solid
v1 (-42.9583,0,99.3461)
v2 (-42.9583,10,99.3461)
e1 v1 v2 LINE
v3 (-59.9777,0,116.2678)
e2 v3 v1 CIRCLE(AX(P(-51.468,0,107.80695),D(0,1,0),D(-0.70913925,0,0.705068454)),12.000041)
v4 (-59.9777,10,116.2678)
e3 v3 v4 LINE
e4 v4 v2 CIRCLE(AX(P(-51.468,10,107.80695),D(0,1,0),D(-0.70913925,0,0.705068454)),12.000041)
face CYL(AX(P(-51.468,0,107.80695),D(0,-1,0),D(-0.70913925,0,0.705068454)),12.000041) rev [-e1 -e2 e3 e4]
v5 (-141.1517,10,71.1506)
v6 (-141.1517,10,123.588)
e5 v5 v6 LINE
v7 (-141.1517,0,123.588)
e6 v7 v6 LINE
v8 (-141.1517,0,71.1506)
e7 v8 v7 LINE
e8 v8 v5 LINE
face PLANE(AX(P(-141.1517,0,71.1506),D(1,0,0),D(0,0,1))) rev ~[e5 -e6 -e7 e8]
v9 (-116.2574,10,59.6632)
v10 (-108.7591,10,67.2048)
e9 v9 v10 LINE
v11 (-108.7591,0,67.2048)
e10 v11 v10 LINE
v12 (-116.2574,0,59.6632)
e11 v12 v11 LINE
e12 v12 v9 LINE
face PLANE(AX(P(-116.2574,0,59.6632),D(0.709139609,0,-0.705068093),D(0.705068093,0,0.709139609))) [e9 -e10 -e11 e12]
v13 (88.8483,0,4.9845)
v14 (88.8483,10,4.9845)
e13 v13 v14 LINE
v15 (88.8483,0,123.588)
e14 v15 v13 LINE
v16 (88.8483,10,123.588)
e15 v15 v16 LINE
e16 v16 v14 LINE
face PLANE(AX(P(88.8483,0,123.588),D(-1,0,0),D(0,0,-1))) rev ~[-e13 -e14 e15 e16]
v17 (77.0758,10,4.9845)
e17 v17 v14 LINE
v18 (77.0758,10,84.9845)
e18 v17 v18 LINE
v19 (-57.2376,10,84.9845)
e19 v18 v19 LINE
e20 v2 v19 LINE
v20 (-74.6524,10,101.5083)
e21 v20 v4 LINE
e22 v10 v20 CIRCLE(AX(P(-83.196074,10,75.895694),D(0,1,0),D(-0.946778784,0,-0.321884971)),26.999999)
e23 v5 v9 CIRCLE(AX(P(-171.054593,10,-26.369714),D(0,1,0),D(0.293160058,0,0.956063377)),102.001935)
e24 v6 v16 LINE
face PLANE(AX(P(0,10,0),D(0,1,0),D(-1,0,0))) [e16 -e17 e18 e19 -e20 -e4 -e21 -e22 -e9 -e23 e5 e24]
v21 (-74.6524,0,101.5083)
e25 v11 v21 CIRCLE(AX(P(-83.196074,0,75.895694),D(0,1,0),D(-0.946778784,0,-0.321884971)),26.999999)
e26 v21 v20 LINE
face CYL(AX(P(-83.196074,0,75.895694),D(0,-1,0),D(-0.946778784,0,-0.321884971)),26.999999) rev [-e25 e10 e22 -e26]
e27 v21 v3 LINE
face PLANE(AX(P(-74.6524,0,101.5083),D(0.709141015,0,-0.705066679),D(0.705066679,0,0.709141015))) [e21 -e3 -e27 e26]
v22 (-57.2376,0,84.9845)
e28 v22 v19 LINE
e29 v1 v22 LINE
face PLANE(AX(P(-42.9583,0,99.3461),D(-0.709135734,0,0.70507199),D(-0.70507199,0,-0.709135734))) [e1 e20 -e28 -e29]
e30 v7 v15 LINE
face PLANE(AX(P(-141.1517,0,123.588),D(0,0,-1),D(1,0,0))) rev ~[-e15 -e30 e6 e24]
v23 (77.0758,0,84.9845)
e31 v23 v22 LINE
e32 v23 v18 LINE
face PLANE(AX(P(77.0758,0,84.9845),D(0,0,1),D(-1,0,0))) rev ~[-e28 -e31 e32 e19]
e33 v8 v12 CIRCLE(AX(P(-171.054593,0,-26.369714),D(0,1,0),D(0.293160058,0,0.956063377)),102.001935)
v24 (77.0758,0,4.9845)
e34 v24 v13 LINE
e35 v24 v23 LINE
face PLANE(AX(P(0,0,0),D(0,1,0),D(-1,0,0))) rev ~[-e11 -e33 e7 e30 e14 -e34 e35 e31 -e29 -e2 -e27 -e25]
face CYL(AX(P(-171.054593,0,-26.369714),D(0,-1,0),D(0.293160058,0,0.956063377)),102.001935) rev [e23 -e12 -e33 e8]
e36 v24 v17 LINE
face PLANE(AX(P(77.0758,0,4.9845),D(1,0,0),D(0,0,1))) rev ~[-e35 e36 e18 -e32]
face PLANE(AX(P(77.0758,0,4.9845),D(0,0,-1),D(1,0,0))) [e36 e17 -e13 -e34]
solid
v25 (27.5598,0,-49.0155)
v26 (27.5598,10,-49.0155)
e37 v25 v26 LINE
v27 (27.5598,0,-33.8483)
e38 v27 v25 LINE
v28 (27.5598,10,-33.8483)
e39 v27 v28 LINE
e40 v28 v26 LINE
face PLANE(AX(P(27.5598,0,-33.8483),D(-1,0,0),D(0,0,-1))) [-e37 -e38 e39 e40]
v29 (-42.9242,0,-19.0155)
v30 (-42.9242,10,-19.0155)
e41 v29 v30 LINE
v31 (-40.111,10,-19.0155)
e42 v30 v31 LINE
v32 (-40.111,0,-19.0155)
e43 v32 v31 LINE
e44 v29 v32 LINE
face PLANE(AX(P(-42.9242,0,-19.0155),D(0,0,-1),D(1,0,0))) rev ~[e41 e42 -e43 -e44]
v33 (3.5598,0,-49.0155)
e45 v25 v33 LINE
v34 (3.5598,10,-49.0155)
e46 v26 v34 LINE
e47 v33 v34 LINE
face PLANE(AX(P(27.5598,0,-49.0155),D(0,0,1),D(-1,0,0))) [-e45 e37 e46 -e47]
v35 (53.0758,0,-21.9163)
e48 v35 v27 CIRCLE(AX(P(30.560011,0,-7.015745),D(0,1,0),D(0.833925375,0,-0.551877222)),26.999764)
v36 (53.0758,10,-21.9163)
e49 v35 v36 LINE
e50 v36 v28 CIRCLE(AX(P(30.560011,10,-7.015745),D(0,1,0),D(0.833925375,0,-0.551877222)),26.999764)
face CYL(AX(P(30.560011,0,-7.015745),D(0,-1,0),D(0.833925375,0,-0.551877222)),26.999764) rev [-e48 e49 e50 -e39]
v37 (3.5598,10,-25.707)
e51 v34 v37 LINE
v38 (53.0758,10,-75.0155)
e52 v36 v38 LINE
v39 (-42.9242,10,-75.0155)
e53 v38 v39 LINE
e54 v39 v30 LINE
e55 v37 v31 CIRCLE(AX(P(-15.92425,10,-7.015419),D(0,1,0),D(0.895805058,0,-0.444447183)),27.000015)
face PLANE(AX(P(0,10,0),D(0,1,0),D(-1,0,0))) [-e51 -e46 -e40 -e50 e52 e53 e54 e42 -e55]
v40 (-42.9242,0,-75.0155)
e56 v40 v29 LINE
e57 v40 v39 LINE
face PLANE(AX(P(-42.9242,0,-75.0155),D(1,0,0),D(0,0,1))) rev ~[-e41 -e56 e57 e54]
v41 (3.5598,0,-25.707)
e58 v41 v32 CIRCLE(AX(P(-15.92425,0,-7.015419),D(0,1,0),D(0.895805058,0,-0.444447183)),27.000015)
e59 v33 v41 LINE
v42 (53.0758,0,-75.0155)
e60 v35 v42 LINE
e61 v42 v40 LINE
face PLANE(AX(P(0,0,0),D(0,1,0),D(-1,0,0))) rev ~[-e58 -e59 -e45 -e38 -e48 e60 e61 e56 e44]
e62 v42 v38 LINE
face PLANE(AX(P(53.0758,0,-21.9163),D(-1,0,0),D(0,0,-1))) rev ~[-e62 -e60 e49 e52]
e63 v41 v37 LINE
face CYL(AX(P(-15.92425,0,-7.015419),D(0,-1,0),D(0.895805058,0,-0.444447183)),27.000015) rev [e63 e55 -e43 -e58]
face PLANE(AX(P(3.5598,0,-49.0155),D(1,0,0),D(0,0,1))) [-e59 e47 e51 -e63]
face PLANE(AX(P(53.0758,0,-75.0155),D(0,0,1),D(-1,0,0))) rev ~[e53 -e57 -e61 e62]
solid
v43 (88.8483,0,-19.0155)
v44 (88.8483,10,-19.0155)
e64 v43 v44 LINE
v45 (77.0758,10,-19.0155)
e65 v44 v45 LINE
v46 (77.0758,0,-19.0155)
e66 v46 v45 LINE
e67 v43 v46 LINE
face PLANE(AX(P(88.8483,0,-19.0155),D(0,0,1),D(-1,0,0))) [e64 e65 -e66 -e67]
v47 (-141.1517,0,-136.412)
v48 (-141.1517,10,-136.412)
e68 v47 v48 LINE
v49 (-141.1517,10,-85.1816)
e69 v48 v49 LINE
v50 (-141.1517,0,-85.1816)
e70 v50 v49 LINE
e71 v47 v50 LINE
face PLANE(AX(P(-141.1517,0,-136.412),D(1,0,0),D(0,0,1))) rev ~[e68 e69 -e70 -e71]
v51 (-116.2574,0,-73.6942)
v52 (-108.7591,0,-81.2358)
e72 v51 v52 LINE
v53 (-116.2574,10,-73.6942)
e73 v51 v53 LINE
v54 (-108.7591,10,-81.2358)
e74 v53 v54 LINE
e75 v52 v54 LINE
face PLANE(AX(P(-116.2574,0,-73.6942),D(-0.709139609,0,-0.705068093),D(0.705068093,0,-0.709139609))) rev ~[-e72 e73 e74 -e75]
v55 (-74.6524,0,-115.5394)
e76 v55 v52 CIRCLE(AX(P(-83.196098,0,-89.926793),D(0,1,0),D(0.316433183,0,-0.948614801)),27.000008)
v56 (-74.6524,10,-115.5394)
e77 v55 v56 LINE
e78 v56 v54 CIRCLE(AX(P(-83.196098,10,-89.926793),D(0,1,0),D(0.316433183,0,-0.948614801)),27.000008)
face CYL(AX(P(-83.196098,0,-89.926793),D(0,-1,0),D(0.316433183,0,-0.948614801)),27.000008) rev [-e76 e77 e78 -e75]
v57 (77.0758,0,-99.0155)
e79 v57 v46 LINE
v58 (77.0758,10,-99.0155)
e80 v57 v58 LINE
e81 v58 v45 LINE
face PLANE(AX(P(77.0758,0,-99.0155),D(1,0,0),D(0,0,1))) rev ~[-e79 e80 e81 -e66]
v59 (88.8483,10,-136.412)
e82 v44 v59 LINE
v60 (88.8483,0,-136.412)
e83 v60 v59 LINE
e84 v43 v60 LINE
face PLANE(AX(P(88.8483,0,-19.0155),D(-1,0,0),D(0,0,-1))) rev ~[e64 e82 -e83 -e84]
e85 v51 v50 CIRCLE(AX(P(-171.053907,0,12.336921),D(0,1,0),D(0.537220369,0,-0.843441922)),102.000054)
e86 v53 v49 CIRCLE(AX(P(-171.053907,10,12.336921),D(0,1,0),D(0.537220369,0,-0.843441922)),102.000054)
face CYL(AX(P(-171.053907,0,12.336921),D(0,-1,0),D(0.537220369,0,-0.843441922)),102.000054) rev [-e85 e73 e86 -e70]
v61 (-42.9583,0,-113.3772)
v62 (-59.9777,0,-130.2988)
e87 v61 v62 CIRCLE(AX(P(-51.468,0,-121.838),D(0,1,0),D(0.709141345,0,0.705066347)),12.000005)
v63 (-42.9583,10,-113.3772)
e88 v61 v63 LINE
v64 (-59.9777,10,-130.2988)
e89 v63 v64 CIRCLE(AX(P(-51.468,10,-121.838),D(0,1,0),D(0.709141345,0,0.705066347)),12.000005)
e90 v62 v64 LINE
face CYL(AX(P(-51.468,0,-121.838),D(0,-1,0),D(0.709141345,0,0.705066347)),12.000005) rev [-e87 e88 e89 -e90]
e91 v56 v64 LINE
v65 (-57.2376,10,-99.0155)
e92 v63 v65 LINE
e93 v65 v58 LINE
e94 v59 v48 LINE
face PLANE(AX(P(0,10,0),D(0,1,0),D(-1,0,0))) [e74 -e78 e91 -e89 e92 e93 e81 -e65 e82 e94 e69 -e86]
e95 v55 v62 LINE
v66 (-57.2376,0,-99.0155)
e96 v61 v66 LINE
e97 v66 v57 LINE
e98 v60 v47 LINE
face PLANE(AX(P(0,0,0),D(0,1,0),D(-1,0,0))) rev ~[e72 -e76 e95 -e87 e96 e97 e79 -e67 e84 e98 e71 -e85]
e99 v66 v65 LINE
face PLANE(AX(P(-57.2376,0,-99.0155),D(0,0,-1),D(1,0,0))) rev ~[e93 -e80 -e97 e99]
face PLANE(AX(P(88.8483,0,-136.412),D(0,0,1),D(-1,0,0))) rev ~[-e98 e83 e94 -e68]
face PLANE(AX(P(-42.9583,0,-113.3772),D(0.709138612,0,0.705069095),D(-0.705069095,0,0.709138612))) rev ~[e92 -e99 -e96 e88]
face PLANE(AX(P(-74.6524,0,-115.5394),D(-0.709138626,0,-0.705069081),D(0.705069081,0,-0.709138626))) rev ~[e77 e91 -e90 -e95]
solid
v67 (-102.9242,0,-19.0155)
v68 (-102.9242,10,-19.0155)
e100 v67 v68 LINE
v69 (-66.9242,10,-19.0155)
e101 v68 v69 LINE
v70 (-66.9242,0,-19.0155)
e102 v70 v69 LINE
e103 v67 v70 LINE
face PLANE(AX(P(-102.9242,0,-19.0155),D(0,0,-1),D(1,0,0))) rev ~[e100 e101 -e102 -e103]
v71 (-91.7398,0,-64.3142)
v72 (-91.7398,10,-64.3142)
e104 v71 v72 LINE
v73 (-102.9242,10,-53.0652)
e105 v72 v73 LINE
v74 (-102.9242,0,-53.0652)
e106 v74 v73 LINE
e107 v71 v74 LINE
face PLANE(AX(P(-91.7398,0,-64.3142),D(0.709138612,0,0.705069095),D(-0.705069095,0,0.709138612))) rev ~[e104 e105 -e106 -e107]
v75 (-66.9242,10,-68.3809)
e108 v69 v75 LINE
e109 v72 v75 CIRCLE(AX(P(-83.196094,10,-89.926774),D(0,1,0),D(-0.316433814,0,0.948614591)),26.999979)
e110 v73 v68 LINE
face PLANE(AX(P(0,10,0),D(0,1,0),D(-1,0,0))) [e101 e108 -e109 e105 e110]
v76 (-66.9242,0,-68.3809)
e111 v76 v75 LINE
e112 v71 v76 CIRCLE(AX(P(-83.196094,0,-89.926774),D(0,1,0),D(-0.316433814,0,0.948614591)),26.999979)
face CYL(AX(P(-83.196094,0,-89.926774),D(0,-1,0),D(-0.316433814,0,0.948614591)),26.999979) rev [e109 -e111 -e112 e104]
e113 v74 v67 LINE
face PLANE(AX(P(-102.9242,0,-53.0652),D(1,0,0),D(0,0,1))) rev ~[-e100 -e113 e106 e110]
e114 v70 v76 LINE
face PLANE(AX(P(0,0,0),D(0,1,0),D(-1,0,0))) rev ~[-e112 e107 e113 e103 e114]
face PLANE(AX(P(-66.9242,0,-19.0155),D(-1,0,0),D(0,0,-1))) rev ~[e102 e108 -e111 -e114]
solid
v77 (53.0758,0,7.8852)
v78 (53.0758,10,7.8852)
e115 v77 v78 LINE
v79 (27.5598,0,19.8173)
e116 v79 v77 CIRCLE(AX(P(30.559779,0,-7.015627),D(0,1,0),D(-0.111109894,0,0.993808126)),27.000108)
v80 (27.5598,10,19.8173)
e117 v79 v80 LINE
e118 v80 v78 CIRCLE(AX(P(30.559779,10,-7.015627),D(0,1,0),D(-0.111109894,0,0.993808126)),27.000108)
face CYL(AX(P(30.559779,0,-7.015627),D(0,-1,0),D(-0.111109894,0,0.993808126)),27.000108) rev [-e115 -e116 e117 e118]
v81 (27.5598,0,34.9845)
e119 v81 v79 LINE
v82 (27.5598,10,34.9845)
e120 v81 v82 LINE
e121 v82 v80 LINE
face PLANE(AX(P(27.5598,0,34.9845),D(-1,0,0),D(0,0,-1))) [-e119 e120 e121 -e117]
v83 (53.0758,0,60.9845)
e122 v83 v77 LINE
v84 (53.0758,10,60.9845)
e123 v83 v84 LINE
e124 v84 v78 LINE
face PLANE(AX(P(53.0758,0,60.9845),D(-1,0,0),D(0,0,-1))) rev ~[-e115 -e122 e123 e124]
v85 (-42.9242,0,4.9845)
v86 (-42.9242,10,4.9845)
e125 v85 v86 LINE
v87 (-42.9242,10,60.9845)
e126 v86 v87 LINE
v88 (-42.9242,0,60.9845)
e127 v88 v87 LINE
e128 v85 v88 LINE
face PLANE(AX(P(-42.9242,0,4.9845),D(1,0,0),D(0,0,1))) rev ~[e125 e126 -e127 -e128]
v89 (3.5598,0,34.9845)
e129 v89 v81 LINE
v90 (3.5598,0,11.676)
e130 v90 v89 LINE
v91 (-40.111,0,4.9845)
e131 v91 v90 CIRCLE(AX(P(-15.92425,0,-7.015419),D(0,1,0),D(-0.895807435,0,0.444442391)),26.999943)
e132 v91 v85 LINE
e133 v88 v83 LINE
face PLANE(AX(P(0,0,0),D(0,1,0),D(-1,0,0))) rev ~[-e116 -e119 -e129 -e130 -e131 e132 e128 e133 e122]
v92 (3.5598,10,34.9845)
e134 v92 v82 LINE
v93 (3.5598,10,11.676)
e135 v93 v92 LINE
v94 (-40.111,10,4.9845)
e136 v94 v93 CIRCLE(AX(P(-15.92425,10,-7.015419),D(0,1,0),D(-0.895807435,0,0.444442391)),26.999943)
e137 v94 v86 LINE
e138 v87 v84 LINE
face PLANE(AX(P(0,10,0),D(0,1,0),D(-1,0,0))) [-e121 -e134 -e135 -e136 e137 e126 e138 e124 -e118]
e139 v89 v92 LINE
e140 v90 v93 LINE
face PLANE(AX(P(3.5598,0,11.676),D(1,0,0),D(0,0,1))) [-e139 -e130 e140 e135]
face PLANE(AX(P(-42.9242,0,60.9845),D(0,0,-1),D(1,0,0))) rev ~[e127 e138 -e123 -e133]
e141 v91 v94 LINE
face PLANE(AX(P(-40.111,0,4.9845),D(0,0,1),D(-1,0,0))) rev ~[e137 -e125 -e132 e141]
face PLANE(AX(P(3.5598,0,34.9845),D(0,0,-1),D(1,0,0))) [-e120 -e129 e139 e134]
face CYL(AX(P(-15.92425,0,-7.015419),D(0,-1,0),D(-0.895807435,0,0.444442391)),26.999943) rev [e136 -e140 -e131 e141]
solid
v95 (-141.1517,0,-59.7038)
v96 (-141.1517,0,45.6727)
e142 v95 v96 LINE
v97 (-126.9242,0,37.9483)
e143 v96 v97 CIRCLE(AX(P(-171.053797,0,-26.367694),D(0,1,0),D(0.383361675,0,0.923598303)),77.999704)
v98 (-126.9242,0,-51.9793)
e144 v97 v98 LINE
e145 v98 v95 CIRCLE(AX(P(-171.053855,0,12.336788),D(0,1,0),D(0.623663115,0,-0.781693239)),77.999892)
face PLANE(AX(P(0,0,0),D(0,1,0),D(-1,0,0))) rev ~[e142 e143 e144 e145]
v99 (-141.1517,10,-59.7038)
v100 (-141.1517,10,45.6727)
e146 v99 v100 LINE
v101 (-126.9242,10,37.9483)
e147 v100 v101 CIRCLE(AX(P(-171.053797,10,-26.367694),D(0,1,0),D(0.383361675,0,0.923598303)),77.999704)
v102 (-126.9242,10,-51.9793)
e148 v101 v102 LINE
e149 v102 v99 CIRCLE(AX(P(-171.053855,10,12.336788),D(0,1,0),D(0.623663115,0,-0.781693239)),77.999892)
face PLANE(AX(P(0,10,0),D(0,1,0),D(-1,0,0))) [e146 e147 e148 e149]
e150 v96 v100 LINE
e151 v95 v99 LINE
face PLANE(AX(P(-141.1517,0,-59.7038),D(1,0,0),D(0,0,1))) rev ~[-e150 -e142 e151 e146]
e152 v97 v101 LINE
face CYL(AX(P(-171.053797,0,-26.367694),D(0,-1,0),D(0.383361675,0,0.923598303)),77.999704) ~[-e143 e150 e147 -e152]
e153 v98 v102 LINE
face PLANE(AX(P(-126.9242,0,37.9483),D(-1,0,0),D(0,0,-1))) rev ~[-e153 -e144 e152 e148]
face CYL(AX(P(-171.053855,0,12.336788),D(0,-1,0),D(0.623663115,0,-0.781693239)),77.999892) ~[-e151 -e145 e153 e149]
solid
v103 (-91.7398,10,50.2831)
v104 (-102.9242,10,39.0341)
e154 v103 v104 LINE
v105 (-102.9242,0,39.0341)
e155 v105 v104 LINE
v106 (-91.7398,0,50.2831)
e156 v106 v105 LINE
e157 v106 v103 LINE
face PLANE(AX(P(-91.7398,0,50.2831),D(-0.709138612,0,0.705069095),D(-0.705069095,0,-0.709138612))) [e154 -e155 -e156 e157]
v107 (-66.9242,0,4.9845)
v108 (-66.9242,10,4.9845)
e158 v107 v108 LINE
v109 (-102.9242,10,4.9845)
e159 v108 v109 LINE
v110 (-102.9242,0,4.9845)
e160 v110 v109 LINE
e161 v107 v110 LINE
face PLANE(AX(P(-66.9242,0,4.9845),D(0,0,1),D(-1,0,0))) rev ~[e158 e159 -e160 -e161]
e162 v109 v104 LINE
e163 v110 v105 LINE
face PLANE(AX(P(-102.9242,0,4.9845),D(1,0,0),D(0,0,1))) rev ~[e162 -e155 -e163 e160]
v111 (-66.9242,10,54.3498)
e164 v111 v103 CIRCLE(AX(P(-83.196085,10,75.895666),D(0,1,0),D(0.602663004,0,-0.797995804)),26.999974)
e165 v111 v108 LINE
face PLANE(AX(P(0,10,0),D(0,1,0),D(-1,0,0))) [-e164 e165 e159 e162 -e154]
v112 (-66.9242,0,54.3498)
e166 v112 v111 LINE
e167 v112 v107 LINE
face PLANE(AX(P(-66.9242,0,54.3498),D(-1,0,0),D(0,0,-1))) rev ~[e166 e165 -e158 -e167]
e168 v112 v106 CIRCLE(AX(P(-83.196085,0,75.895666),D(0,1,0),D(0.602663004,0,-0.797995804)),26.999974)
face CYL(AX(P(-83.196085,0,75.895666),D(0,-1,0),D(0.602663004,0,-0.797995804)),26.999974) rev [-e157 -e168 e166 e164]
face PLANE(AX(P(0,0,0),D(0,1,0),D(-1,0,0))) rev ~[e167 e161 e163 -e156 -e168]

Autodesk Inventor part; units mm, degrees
ref_plane "YZ Plane" through (0, 0, 0) normal (1, 0, 0) x (0, 1, 0)
ref_plane "XZ Plane" through (0, 0, 0) normal (0, 1, 0) x (-1, 0, 0)
ref_plane "XY Plane" through (0, 0, 0) normal (0, 0, 1) x (1, 0, 0)
sketch "Boceto1" plane through (0, 0, 0) normal (0, 1, 0) x (-1, 0, 0)
  line L0 (-88.8483, 123.588) -> (-88.8483, -136.412)
  line L1 (-88.8483, -136.412) -> (141.1517, -136.412)
  line L2 (141.1517, -136.412) -> (141.1517, 123.588)
  line L3 (141.1517, 123.588) -> (-88.8483, 123.588)
  circle A0 centre (51.468, -121.838) radius 4
  circle A1 centre (51.468, 107.8069) radius 4
  line L4 (66.9242, 84.9845) -> (66.9242, 4.9845)
  line L5 (66.9242, 4.9845) -> (102.9242, 4.9845)
  line L6 (102.9242, 4.9845) -> (102.9242, 54.9845)
  line L7 (126.9242, 54.9845) -> (126.9242, -69.0155)
  line L8 (126.9242, -69.0155) -> (102.9242, -69.0155)
  line L9 (102.9242, -69.0155) -> (102.9242, -19.0155)
  line L10 (102.9242, -19.0155) -> (66.9242, -19.0155)
  line L11 (-77.0758, -99.0155) -> (-77.0758, 84.9845)
  line L12 (-77.0758, 84.9845) -> (66.9242, 84.9845)
  line L13 (-53.0758, -75.0155) -> (42.9242, -75.0155)
  line L14 (42.9242, -75.0155) -> (42.9242, -19.0155)
  line L15 (42.9242, -19.0155) -> (40.111, -19.0155)
  arc A2 (-8.2625, -19.0155) -> (40.111, -19.0155) centre (15.9242, -7.0155) ccw
  line L16 (-8.2625, -19.0155) -> (-53.0758, -19.0155)
  line L17 (-53.0758, -19.0155) -> (-53.0758, -75.0155)
  circle A3 centre (-15.5598, -41.0155) radius 4
  line L18 (42.9242, 60.9845) -> (-53.0758, 60.9845)
  line L19 (-53.0758, 60.9845) -> (-53.0758, 4.9845)
  line L20 (-53.0758, 4.9845) -> (-8.2625, 4.9845)
  arc A4 (40.111, 4.9845) -> (-8.2625, 4.9845) centre (15.9242, -7.0155) ccw
  line L21 (40.111, 4.9845) -> (42.9242, 4.9845)
  line L22 (42.9242, 4.9845) -> (42.9242, 60.9845)
  circle A5 centre (-15.5598, 26.9845) radius 4
  line L23 (-25.5598, -31.5104) -> (-25.5598, -47.0155)
  line L24 (-25.5598, -47.0155) -> (-5.5598, -47.0155)
  line L25 (-5.5598, -47.0155) -> (-5.5598, 32.9845)
  line L26 (-5.5598, 32.9845) -> (-25.5598, 32.9845)
  line L27 (-25.5598, 32.9845) -> (-25.5598, 17.4794)
  arc A6 (-25.5598, 17.4794) -> (-53.4727, 2.9845) centre (-30.5598, -7.0155) ccw
  line L28 (-53.4727, 2.9845) -> (-195.5598, 2.9845)
  line L29 (-195.5598, 2.9845) -> (-195.5598, -17.0155)
  line L30 (-195.5598, -17.0155) -> (-53.4727, -17.0155)
  arc A7 (-53.4727, -17.0155) -> (-25.5598, -31.5104) centre (-30.5598, -7.0155) ccw
  circle A8 centre (-15.5598, 26.9845) radius 4
  circle A9 centre (-15.5598, -41.0155) radius 4
  line L31 (107.8328, -50.9648) -> (92.2599, -66.6277)
  arc A10 (92.2599, -66.6277) -> (59.9496, -99.1245) centre (83.1961, -89.9268) ccw
  line L32 (59.9496, -99.1245) -> (44.3766, -114.7873)
  arc A11 (44.3766, -114.7873) -> (58.5594, -128.8887) centre (51.468, -121.838) ccw
  line L33 (58.5594, -128.8887) -> (74.1323, -113.2259)
  arc A12 (74.1323, -113.2259) -> (106.4427, -80.7291) centre (83.1961, -89.9268) ccw
  line L34 (106.4427, -80.7291) -> (115.9835, -71.1332)
  arc A13 (115.9835, -71.1332) -> (219.4033, -75.1979) centre (171.0539, 12.3369) ccw
  arc A14 (219.4033, -75.1979) -> (209.7334, -57.6909) centre (214.5684, -66.4444) ccw
  arc A15 (121.1609, -50.1986) -> (209.7334, -57.6909) centre (171.0539, 12.3369) ccw
  arc A16 (121.1609, -50.1986) -> (107.8328, -50.9648) centre (114.9242, -58.0155) ccw
  circle A17 centre (51.468, -121.838) radius 4
  circle A18 centre (114.9242, -58.0155) radius 4
  line L35 (107.8328, 36.9338) -> (92.2599, 52.5966)
  arc A19 (107.8328, 36.9338) -> (121.1609, 36.1675) centre (114.9242, 43.9845) ccw
  arc A20 (209.7334, 43.6599) -> (121.1609, 36.1675) centre (171.0539, -26.3679) ccw
  arc A21 (209.7334, 43.6599) -> (219.4033, 61.1668) centre (214.5684, 52.4133) ccw
  arc A22 (219.4033, 61.1668) -> (115.9835, 57.1021) centre (171.0539, -26.3679) ccw
  line L36 (106.4427, 66.698) -> (115.9835, 57.1021)
  arc A23 (106.4427, 66.698) -> (74.1323, 99.1948) centre (83.1961, 75.8957) ccw
  line L37 (58.5594, 114.8576) -> (74.1323, 99.1948)
  arc A24 (58.5594, 114.8576) -> (44.3766, 100.7562) centre (51.468, 107.8069) ccw
  line L38 (59.9496, 85.0934) -> (44.3766, 100.7562)
  arc A25 (59.9496, 85.0934) -> (92.2599, 52.5966) centre (83.1961, 75.8957) ccw
  circle A26 centre (51.468, 107.8069) radius 4
  circle A27 centre (114.9242, 43.9845) radius 4
  line L39 (-27.5598, -33.8483) -> (-27.5598, -49.0155)
  line L40 (-27.5598, -49.0155) -> (-3.5598, -49.0155)
  line L41 (-3.5598, -49.0155) -> (-3.5598, -25.707)
  line L42 (-3.5598, 34.9845) -> (-27.5598, 34.9845)
  line L43 (-27.5598, 34.9845) -> (-27.5598, 19.8173)
  arc A28 (-27.5598, 19.8173) -> (-53.0758, 7.8852) centre (-30.5598, -7.0155) ccw
  arc A29 (74.6524, -115.5394) -> (108.7591, -81.2358) centre (83.1961, -89.9268) ccw
  line L44 (74.6524, -115.5394) -> (59.9777, -130.2988)
  arc A30 (42.9583, -113.3772) -> (59.9777, -130.2988) centre (51.468, -121.838) ccw
  line L45 (42.9583, -113.3772) -> (57.6331, -98.6177)
  arc A31 (91.7398, -64.3142) -> (57.6331, -98.6177) centre (83.1961, -89.9268) ccw
  line L46 (91.7398, -64.3142) -> (106.4146, -49.5547)
  arc A32 (122.4082, -48.6352) -> (106.4146, -49.5547) centre (114.9242, -58.0155) ccw
  arc A33 (122.4082, -48.6352) -> (208.7664, -55.9402) centre (171.0539, 12.3369) ccw
  arc A34 (220.3703, -76.9486) -> (208.7664, -55.9402) centre (214.5684, -66.4444) ccw
  arc A35 (116.2574, -73.6942) -> (220.3703, -76.9486) centre (171.0539, 12.3369) ccw
  line L47 (116.2574, -73.6942) -> (108.7591, -81.2358)
  line L48 (91.7398, 50.2831) -> (106.4146, 35.5236)
  arc A36 (106.4146, 35.5236) -> (122.4082, 34.6041) centre (114.9242, 43.9845) ccw
  line L49 (116.2574, 59.6632) -> (108.7591, 67.2048)
  arc A37 (108.7591, 67.2048) -> (74.6524, 101.5083) centre (83.1961, 75.8957) ccw
  line L50 (74.6524, 101.5083) -> (59.9777, 116.2678)
  arc A38 (59.9777, 116.2678) -> (42.9583, 99.3461) centre (51.468, 107.8069) ccw
  line L51 (42.9583, 99.3461) -> (57.2376, 84.9845)
  line L52 (102.9242, -19.0155) -> (66.9242, -19.0155)
  circle A39 centre (-65.0758, -87.0155) radius 4
  circle A40 centre (-65.0758, 72.9845) radius 4
  line L53 (104.9242, -67.0155) -> (124.9242, -67.0155)
  line L54 (124.9242, -67.0155) -> (124.9242, 52.9845)
  line L55 (124.9242, 52.9845) -> (104.9242, 52.9845)
  line L56 (104.9242, 52.9845) -> (104.9242, 2.9845)
  line L57 (104.9242, 2.9845) -> (64.9242, 2.9845)
  line L58 (64.9242, 2.9845) -> (64.9242, 82.9845)
  line L59 (64.9242, 82.9845) -> (-75.0758, 82.9845)
  line L60 (-75.0758, 82.9845) -> (-75.0758, -97.0155)
  line L61 (-75.0758, -97.0155) -> (64.9242, -97.0155)
  line L62 (64.9242, -97.0155) -> (64.9242, -17.0155)
  line L63 (64.9242, -17.0155) -> (104.9242, -17.0155)
  line L64 (104.9242, -17.0155) -> (104.9242, -67.0155)
  circle A41 centre (114.9242, -58.0155) radius 4
  circle A42 centre (114.9242, 43.9845) radius 4
  line L65 (44.9242, -17.0155) -> (44.9242, -77.0155)
  line L66 (44.9242, -77.0155) -> (-55.0758, -77.0155)
  line L67 (-55.0758, -77.0155) -> (-55.0758, -17.0155)
  line L68 (-55.0758, -17.0155) -> (-6.9887, -17.0155)
  arc A43 (-6.9887, -17.0155) -> (38.8371, -17.0155) centre (15.9242, -7.0155) ccw
  line L69 (38.8371, -17.0155) -> (44.9242, -17.0155)
  line L70 (44.9242, 2.9845) -> (38.8371, 2.9845)
  arc A44 (38.8371, 2.9845) -> (-6.9887, 2.9845) centre (15.9242, -7.0155) ccw
  line L71 (-6.9887, 2.9845) -> (-55.0758, 2.9845)
  line L72 (-55.0758, 2.9845) -> (-55.0758, 62.9845)
  line L73 (-55.0758, 62.9845) -> (44.9242, 62.9845)
  line L74 (44.9242, 62.9845) -> (44.9242, 2.9845)
  line L75 (102.9242, -19.0155) -> (66.9242, -19.0155)
  line L76 (66.9242, -19.0155) -> (66.9242, -68.3809)
  line L77 (-77.0758, -99.0155) -> (-77.0758, 84.9845)
  line L78 (-77.0758, 84.9845) -> (66.9242, 84.9845)
  line L79 (66.9242, 84.9845) -> (66.9242, 4.9845)
  line L80 (66.9242, 4.9845) -> (102.9242, 4.9845)
  line L81 (102.9242, 4.9845) -> (102.9242, 39.0341)
  line L82 (102.9242, -53.0652) -> (102.9242, -19.0155)
  arc A45 (141.1517, 71.1506) -> (116.2574, 59.6632) centre (171.0539, -26.3679) ccw
  arc A46 (141.1517, 45.6727) -> (122.4082, 34.6041) centre (171.0539, -26.3679) ccw
  line L83 (141.1517, 123.588) -> (-88.8483, 123.588)
  line L84 (-88.8483, 123.588) -> (-88.8483, -136.412)
  line L85 (-88.8483, -136.412) -> (141.1517, -136.412)
  line L86 (141.1517, -136.412) -> (141.1517, -85.1816)
  line L87 (126.9242, 37.9483) -> (126.9242, -51.9793)
  arc A47 (66.9242, 54.3498) -> (91.7398, 50.2831) centre (83.1961, 75.8957) ccw
  line L88 (42.9242, 4.9845) -> (40.111, 4.9845)
  arc A48 (40.111, 4.9845) -> (-3.5598, 11.676) centre (15.9242, -7.0155) ccw
  line L89 (-53.0758, 60.9845) -> (42.9242, 60.9845)
  line L90 (42.9242, 60.9845) -> (42.9242, 4.9845)
  line L91 (42.9242, -75.0155) -> (42.9242, -19.0155)
  line L92 (42.9242, -19.0155) -> (40.111, -19.0155)
  line L93 (-53.0758, -75.0155) -> (42.9242, -75.0155)
  line L94 (-3.5598, 11.676) -> (-3.5598, 34.9845)
  line L95 (-53.0758, 7.8852) -> (-53.0758, 60.9845)
  line L96 (-53.0758, -21.9163) -> (-53.0758, -75.0155)
  arc A49 (-3.5598, -25.707) -> (40.111, -19.0155) centre (15.9242, -7.0155) ccw
  arc A50 (-53.0758, -21.9163) -> (-27.5598, -33.8483) centre (-30.5598, -7.0155) ccw
  line L97 (-77.0758, 4.9845) -> (-88.8483, 4.9845)
  line L98 (-88.8483, -19.0155) -> (-77.0758, -19.0155)
  line L99 (57.2376, -99.0155) -> (-77.0758, -99.0155)
  line L100 (57.7718, -99.0155) -> (57.2376, -99.0155)
  line L101 (141.1517, -59.7038) -> (141.1517, 123.588)
  line L102 (141.1517, -85.1816) -> (141.1517, -59.7038)
  point P0 (0, 0)
  point P1 (102.9242, 39.0341)
  point P2 (126.9242, 37.9483)
  point P3 (126.9242, -51.9793)
  point P4 (141.1517, -59.7038)
  point P5 (102.9242, -53.0652)
  point P6 (141.1517, -85.1816)
extrude "Extrusión1" add sketch "Boceto1" along normal blind 10 contours L3 L2 A45 L49 A37 L50 A38 L51 L12 L11 L97 L0 | L98 L11 L99 L45 A30 L44 A29 L47 A35 L2 L1 L0 | L2 A33 L7 A46 | A47 L48 L6 L5 L4 | L76 L10 L9 L46 A31 | L19 L18 L22 L21 A4 L94 L42 L43 A28 | A50 L39 L40 L41 A2 L15 L14 L13 L17
properties part number "ParteFinalMesaEnsamble"
